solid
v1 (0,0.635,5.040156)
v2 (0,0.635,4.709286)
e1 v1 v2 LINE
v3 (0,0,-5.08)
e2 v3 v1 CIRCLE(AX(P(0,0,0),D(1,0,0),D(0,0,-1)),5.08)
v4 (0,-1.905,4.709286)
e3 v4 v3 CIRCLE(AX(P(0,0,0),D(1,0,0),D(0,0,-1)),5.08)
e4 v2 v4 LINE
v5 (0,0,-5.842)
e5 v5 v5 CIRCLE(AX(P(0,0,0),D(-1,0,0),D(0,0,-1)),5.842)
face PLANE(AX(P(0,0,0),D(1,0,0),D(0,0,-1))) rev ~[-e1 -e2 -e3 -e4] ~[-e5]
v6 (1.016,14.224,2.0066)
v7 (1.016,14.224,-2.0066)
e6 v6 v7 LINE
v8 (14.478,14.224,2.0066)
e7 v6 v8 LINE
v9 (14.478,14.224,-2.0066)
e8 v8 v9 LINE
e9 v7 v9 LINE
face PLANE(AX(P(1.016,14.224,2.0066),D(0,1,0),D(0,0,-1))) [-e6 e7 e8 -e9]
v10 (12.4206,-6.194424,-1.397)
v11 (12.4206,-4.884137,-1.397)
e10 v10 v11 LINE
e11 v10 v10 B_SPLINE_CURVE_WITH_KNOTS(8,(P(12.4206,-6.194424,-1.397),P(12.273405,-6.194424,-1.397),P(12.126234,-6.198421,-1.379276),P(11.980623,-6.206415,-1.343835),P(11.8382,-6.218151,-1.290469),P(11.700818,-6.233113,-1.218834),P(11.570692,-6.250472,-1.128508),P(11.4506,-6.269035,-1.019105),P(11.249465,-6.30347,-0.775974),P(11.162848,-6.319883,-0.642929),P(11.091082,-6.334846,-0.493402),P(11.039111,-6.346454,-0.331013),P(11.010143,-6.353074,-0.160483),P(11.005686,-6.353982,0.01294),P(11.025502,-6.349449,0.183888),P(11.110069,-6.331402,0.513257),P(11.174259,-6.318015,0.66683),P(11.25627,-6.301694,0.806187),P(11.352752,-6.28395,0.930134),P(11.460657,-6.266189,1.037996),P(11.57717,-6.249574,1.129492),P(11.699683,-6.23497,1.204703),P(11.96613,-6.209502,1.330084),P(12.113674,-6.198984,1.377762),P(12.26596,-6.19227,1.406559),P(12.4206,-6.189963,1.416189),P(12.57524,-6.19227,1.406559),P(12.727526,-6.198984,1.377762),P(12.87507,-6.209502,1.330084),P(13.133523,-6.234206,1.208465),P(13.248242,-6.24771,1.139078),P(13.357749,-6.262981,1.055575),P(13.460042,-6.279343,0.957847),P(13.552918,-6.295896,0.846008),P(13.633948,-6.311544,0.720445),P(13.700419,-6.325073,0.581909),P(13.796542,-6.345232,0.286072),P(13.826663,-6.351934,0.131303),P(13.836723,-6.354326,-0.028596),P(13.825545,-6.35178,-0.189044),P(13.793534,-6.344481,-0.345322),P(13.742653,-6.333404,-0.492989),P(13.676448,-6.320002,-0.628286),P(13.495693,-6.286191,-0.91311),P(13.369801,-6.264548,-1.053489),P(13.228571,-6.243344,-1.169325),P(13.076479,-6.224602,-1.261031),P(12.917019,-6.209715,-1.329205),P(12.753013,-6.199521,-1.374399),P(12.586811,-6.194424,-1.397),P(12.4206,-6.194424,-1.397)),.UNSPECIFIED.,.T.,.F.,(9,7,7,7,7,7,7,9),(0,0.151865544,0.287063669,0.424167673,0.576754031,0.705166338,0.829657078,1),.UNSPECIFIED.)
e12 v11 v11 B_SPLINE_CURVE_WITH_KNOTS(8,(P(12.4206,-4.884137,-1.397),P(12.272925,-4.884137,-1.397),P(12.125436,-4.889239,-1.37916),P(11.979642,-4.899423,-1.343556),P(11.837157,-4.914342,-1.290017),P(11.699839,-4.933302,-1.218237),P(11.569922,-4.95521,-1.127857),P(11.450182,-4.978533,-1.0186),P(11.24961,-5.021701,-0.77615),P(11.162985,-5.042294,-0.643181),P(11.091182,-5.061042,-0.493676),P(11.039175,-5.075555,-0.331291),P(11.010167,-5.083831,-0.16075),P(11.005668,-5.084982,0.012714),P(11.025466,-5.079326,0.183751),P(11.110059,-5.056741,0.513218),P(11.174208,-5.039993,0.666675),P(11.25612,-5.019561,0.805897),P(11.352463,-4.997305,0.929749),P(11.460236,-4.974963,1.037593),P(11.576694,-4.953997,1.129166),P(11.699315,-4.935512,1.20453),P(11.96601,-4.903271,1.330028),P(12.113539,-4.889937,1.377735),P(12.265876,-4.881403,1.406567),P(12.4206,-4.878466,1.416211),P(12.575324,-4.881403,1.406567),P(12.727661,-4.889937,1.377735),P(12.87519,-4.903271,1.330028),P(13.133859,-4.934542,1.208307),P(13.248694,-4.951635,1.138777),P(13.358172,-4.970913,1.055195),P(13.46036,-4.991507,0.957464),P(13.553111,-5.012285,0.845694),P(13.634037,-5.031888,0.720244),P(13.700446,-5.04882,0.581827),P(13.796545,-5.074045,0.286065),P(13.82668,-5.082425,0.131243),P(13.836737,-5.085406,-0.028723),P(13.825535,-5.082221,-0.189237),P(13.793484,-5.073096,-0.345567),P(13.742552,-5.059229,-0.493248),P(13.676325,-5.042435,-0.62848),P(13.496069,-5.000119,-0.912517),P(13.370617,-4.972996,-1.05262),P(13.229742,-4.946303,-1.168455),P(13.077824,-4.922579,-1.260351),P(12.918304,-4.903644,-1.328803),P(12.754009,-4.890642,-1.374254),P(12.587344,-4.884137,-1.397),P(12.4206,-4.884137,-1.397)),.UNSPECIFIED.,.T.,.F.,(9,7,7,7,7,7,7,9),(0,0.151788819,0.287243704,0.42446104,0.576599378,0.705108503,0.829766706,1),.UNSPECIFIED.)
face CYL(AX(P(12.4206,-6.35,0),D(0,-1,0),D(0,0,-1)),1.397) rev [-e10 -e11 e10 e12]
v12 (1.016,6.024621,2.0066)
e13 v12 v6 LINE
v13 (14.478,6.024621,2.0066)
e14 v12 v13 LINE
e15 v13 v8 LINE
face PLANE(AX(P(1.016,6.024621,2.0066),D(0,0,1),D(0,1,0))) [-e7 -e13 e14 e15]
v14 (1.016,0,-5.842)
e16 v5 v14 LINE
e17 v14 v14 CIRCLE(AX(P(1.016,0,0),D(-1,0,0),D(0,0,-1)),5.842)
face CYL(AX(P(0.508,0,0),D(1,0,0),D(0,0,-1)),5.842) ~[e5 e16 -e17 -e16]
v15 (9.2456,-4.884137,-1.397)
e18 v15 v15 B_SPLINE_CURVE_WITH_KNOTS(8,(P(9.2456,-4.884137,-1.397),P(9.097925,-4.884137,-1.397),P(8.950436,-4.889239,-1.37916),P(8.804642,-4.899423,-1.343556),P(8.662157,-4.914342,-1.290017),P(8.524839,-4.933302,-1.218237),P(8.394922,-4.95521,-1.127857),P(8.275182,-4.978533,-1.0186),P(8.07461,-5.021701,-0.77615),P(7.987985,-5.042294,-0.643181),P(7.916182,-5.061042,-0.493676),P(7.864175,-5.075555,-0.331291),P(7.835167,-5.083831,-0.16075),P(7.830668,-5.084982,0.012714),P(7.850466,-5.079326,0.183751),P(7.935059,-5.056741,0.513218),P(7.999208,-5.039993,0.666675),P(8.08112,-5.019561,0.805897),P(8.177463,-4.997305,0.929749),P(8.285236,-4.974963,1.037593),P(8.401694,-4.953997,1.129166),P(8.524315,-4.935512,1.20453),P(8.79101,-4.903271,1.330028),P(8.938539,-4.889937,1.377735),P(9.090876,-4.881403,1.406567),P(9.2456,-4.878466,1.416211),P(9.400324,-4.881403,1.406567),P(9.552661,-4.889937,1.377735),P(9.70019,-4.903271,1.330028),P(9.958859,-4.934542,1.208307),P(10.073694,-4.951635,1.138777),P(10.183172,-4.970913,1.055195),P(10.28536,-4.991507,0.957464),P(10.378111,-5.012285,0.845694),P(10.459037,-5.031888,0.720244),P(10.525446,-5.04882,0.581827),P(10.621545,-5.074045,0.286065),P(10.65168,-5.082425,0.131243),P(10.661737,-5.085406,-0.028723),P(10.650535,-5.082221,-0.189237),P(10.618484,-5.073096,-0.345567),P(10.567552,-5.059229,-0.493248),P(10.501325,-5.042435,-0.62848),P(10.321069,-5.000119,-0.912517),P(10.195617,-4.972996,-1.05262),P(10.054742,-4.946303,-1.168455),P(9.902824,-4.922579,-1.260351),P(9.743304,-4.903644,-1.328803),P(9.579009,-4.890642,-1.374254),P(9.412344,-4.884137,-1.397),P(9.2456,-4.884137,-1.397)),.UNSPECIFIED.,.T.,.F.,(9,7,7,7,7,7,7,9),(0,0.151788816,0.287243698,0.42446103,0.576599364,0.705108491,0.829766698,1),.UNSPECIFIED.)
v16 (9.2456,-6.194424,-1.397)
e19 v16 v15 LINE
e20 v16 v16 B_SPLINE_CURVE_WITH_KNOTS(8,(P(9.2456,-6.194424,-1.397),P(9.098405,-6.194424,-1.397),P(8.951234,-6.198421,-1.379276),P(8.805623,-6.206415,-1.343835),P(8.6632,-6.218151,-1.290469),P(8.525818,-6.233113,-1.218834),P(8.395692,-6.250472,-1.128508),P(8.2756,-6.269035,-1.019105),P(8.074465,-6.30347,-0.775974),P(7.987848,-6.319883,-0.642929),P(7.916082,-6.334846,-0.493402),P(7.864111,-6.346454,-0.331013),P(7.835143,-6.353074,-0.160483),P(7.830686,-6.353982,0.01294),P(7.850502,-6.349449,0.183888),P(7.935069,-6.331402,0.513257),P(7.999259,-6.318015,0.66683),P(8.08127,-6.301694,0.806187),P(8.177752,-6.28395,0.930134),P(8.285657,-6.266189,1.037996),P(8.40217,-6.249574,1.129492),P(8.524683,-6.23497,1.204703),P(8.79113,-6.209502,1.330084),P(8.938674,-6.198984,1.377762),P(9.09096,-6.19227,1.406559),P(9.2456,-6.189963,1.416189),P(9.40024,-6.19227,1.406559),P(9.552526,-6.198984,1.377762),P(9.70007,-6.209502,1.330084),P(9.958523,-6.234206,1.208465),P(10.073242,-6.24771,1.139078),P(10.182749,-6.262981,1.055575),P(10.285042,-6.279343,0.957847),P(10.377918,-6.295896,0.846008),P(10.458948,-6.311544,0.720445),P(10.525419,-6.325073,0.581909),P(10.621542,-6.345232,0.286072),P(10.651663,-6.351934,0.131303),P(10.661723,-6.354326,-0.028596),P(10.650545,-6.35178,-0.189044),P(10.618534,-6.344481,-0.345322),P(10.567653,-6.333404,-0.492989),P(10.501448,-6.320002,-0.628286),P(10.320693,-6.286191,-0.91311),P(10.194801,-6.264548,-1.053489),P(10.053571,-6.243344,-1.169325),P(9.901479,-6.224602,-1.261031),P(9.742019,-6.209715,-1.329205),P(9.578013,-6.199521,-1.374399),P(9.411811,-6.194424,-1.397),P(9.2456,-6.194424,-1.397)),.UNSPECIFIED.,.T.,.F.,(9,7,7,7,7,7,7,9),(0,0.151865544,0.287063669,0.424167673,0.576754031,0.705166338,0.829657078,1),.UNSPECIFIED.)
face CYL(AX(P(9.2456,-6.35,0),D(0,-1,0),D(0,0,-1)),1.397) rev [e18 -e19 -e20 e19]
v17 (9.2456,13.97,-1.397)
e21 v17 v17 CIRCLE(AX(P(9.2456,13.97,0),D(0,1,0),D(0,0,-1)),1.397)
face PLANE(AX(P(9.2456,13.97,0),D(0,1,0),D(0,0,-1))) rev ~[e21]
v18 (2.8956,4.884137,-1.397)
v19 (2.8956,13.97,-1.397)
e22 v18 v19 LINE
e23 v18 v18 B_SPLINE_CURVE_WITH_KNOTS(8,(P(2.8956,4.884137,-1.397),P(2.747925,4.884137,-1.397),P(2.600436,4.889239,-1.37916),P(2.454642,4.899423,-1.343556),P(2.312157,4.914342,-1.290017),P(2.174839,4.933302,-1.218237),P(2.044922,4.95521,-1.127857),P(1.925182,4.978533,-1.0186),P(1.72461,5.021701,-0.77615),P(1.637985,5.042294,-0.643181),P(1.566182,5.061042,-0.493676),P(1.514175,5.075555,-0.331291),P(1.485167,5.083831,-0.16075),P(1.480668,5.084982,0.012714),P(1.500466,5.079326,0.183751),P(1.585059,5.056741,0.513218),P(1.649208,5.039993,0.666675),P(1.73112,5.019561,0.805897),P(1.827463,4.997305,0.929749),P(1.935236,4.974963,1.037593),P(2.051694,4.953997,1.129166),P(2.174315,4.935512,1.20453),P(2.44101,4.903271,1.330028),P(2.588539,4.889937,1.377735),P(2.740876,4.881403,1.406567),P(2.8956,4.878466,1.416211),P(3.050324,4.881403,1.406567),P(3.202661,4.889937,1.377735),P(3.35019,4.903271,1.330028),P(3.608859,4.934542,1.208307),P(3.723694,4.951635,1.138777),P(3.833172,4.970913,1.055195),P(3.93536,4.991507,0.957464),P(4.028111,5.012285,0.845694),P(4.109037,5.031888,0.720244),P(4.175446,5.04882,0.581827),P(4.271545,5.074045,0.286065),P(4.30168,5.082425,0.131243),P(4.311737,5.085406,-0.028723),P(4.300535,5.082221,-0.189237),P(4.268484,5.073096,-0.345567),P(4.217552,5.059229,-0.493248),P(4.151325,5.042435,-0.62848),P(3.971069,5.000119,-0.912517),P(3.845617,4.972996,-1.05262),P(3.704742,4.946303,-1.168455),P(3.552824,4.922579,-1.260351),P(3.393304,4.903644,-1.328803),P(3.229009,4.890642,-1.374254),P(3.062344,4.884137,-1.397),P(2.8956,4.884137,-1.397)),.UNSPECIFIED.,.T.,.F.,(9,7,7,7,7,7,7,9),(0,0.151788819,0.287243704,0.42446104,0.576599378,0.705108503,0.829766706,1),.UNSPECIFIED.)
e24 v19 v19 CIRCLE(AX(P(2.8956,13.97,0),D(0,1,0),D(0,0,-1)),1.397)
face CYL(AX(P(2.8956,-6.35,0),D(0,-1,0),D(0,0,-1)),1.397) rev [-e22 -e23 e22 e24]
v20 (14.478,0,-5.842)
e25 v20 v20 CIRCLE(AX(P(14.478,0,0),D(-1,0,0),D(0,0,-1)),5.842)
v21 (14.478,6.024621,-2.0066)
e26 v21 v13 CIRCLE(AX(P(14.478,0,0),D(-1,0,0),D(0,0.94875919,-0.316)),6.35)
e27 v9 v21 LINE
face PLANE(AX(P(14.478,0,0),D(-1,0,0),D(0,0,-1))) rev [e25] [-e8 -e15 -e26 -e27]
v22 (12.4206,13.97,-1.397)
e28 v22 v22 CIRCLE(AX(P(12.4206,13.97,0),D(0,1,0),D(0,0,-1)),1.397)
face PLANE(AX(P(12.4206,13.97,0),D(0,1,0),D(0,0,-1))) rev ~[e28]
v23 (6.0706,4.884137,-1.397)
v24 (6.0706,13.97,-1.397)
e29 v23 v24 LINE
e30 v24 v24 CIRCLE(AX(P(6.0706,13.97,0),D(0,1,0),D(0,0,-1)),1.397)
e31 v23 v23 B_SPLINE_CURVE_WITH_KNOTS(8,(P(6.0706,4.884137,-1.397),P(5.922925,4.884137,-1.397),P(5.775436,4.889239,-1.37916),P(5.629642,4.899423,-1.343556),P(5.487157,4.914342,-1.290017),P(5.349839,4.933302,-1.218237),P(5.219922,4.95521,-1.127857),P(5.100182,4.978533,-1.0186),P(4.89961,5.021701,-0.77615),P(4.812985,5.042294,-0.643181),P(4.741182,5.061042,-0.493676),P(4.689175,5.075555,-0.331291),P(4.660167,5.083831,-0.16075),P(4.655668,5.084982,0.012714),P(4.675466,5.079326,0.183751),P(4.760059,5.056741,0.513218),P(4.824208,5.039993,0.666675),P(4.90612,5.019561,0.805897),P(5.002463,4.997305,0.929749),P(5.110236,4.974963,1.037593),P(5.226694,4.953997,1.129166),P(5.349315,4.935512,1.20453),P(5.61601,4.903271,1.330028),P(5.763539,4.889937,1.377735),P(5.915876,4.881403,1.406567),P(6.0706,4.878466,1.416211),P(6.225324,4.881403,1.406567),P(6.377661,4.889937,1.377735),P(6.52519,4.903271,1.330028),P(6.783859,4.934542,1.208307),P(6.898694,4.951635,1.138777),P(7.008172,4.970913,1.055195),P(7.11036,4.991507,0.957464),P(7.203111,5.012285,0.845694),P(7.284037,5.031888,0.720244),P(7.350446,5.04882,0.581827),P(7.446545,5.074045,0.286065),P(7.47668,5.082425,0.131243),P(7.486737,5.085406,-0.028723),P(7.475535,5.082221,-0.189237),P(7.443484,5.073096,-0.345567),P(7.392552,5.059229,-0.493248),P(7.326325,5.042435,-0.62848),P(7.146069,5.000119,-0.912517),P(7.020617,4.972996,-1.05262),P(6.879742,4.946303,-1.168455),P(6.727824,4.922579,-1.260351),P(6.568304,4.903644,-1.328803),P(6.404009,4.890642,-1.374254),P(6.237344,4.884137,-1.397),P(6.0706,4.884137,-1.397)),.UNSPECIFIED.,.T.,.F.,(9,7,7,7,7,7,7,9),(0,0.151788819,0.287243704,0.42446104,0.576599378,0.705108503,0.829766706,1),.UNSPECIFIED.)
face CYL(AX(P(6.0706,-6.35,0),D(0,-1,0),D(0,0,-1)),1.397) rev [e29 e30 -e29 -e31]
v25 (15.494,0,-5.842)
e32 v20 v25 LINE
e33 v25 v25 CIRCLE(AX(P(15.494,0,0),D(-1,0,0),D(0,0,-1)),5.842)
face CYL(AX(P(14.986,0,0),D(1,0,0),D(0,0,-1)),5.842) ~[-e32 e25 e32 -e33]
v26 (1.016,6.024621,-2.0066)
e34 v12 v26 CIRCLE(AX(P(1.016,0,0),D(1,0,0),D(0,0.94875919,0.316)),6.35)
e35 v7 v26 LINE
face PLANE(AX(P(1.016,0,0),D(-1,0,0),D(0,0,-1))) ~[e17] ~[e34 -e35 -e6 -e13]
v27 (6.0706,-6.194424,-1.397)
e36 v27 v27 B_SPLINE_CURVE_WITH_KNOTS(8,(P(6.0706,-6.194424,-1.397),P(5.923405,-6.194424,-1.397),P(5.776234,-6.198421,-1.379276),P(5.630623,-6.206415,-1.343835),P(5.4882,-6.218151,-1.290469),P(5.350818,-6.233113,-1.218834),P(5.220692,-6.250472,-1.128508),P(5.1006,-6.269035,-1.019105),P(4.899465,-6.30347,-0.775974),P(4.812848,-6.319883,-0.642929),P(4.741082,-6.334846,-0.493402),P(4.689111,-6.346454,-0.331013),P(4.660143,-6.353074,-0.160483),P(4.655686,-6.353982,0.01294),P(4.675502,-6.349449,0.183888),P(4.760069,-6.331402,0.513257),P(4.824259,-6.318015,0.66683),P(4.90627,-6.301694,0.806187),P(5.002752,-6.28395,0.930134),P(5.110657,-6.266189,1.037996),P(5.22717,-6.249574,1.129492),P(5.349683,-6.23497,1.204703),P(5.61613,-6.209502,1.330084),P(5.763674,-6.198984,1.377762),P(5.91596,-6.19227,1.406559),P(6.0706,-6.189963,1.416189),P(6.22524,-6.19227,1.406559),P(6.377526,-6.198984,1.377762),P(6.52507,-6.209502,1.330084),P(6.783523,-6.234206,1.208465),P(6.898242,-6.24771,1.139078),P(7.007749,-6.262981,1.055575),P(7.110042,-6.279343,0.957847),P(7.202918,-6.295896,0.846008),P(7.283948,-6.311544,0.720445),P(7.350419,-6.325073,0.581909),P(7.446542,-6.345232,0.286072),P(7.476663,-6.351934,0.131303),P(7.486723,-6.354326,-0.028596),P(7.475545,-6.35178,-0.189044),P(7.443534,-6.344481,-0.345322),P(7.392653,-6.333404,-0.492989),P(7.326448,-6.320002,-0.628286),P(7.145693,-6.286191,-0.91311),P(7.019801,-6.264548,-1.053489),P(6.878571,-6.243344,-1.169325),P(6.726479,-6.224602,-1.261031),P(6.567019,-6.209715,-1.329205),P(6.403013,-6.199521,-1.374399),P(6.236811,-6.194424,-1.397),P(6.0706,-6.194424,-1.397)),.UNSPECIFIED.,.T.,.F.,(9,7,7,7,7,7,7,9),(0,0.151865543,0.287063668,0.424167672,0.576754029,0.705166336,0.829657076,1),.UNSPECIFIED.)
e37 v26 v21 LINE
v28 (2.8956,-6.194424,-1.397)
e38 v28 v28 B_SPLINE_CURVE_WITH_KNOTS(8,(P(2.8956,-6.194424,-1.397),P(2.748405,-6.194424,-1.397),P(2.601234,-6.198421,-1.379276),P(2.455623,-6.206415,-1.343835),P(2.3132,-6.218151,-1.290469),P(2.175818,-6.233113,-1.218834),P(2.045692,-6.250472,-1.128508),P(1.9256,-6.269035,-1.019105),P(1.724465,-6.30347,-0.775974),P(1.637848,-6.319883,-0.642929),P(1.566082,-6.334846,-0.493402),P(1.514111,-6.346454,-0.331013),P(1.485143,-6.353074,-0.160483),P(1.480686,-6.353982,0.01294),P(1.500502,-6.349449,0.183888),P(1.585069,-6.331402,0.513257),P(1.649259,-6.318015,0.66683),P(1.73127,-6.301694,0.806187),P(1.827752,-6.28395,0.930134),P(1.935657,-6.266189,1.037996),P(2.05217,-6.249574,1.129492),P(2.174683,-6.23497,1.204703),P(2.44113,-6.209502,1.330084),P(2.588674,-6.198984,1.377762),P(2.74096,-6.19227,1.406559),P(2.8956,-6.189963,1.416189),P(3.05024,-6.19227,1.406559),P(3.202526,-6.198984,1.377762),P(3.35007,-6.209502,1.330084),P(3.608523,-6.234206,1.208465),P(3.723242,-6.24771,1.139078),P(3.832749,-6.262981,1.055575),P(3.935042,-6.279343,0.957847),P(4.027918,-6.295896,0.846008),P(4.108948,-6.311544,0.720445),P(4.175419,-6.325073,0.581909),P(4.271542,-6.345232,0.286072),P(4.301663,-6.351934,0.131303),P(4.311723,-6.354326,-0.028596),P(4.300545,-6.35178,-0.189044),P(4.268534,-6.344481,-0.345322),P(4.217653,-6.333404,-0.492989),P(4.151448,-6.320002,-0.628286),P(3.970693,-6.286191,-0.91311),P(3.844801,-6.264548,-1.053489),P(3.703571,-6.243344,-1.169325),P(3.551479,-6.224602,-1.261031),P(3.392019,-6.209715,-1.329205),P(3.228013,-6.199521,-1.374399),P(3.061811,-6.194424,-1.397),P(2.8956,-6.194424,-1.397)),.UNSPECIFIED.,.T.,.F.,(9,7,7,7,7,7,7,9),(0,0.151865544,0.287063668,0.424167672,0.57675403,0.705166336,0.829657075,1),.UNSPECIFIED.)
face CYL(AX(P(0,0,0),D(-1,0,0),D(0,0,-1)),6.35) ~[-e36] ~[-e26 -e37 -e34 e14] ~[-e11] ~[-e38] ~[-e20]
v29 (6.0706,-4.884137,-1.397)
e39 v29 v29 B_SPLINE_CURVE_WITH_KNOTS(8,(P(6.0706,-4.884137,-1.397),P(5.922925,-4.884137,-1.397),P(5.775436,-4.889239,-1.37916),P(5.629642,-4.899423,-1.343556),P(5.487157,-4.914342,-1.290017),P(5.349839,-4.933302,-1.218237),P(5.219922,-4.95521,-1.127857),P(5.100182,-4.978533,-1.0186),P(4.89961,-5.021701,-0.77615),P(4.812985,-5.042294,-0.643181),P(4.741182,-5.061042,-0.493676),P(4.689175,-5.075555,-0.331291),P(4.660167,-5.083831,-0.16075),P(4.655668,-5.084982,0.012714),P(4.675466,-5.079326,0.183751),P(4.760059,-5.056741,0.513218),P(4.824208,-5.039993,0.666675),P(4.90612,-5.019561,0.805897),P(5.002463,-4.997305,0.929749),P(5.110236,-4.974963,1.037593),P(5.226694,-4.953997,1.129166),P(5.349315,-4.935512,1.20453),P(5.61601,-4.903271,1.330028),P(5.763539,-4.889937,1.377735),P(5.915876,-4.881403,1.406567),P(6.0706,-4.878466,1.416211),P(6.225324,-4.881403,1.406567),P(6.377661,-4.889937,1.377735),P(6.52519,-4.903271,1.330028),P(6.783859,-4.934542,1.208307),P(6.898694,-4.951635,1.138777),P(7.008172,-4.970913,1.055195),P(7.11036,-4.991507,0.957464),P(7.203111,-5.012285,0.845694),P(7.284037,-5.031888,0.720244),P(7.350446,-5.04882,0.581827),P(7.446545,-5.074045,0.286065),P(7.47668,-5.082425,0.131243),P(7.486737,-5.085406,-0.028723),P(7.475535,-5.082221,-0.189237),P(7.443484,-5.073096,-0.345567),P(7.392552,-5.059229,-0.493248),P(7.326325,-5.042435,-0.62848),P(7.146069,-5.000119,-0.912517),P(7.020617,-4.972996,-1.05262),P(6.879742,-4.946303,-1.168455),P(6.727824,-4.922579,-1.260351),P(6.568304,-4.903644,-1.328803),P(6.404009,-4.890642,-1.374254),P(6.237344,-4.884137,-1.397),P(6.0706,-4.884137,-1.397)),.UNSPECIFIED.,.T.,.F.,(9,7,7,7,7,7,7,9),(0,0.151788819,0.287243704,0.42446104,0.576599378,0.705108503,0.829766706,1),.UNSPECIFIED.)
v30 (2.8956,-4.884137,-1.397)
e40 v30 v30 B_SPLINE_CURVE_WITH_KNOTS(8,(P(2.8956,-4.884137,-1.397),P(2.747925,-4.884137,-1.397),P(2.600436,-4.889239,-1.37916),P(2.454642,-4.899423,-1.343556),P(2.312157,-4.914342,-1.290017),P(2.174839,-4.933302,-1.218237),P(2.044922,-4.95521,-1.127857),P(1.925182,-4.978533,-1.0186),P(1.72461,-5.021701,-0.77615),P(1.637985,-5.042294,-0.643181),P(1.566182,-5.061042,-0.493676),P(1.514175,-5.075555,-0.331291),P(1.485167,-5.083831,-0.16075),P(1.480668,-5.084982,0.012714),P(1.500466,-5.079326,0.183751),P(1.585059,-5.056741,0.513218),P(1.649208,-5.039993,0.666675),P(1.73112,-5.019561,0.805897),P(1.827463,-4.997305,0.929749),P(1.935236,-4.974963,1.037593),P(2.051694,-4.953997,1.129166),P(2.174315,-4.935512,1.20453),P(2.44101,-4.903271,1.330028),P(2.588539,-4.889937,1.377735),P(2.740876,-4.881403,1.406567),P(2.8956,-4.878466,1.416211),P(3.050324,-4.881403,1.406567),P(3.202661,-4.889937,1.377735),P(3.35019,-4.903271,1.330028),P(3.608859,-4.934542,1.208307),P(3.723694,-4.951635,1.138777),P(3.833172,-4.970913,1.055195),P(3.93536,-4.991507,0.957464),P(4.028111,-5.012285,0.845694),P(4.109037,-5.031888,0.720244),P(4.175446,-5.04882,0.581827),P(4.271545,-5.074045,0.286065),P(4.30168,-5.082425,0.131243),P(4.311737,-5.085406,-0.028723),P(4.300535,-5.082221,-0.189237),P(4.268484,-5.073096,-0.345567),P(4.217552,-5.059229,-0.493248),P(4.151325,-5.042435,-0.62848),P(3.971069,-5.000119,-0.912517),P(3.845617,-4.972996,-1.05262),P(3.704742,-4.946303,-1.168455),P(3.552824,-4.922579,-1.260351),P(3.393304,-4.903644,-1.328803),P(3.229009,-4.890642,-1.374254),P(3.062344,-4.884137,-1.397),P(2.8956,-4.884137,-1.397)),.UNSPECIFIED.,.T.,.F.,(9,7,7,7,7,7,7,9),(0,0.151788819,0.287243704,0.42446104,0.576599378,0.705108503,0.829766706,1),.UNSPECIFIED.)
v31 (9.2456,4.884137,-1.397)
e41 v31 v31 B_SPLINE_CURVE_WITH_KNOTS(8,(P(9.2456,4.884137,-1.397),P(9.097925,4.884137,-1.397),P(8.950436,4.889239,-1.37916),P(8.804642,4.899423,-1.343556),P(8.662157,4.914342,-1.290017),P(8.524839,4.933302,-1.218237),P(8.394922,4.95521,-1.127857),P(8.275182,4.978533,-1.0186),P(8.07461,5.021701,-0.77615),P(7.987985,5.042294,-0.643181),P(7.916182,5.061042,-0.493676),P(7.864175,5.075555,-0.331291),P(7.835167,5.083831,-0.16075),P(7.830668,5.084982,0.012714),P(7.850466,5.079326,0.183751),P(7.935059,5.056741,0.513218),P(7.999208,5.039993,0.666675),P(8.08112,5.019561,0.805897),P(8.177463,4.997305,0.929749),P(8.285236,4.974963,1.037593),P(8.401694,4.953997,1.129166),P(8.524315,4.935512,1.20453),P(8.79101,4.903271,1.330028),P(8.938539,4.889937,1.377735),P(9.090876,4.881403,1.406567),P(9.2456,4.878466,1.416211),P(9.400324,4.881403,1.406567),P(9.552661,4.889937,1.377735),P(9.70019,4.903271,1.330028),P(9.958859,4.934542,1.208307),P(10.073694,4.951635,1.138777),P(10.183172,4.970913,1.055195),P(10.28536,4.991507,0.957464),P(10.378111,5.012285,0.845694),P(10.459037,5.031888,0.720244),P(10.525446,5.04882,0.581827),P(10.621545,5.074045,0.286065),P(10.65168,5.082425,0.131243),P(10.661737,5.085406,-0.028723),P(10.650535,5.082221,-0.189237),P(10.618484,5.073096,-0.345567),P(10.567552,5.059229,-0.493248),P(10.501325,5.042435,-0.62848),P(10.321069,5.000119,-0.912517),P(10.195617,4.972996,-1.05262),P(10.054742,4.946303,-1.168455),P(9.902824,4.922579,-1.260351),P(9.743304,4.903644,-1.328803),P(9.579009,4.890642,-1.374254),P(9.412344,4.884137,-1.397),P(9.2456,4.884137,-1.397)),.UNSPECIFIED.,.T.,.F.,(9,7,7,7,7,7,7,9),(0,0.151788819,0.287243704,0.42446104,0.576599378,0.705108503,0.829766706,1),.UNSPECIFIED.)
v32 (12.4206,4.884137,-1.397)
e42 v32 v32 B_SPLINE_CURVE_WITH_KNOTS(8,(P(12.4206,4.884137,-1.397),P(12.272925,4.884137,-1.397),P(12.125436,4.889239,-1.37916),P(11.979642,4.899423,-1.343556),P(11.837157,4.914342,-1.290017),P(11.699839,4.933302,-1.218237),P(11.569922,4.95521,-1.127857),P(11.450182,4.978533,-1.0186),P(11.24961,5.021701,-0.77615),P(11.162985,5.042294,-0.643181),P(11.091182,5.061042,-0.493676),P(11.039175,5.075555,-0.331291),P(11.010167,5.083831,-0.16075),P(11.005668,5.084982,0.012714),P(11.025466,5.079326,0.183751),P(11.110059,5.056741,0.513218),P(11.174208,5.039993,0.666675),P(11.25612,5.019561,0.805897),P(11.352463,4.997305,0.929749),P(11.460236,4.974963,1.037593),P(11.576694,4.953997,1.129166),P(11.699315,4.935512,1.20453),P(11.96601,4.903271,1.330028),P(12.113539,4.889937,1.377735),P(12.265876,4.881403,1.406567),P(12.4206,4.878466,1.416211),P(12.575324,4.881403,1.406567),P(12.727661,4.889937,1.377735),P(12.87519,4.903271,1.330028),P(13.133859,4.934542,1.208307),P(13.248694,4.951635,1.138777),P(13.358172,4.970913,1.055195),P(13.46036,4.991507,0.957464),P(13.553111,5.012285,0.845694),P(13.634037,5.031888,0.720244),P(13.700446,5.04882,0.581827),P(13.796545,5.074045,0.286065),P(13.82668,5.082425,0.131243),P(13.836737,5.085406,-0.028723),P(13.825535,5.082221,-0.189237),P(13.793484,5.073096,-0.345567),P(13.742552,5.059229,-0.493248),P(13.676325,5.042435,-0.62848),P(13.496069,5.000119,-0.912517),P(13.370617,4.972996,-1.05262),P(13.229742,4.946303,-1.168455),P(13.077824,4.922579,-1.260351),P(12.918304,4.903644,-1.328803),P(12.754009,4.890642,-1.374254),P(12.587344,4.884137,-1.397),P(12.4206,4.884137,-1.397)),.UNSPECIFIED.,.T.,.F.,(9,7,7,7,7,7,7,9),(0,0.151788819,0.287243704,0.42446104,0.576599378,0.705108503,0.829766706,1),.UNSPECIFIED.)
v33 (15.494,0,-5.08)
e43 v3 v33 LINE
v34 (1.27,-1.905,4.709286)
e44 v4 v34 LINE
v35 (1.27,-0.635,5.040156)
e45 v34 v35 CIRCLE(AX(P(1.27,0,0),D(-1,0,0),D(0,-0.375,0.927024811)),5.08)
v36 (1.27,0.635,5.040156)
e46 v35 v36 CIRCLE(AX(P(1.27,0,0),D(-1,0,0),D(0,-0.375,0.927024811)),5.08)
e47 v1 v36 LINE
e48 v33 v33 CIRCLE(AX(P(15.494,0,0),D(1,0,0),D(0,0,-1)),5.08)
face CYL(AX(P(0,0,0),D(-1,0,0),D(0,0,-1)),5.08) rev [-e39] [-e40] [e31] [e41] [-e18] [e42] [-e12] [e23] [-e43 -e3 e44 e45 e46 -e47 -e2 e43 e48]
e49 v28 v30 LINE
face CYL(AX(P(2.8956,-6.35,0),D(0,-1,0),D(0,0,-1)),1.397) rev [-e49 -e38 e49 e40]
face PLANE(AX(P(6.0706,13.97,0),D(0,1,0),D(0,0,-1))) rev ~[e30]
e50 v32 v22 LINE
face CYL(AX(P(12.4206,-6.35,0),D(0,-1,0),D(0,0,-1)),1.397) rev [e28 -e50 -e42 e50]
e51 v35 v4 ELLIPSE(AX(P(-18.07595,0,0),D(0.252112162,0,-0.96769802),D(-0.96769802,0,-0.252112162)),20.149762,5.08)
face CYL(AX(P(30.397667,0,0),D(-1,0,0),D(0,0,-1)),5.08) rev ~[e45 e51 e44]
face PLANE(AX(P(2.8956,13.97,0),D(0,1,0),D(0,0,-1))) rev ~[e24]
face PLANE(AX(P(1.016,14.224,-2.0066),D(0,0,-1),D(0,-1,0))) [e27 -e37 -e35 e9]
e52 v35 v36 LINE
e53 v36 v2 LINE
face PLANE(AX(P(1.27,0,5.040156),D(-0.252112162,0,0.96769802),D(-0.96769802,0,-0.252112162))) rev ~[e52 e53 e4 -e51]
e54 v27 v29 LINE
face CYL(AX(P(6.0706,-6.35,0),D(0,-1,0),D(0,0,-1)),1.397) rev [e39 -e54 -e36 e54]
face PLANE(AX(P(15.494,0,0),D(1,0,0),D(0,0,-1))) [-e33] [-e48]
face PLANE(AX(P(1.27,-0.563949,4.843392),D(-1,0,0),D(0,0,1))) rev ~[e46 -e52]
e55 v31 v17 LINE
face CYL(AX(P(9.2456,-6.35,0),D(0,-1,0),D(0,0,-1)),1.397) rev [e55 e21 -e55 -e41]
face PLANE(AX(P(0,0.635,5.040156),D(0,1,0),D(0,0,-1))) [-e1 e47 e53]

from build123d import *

# Parameters (mm, degrees)
SKETCH1_R                      = 6.35
SKETCH1_R_2                    = 5.08
BOSS_EXTRUDE1_DEPTH            = 15.494
BOSS_EXTRUDE2_DEPTH            = 13.462
SKETCH3_W                      = 1.016
SKETCH3_H                      = 0.508
BOSS_EXTRUDE3_DEPTH            = 1.27
SKETCH7_R                      = 1.397
CUT_EXTRUDE1_DEPTH             = 20.32
CUT_EXTRUDE4_REACH             = 23.971
CUT_EXTRUDE4_END_RADIUS        = 5.08
CUT_EXTRUDE4_DIRECTION_2_DEPTH = 0.635


with BuildPart() as part:
    # Sketch1 → Boss-Extrude1 (new body)
    with BuildSketch(Plane(origin=(0, 0, 0), x_dir=(0, 0, -1), z_dir=(1, 0, 0))):
        Circle(SKETCH1_R)
        Circle(SKETCH1_R_2, mode=Mode.SUBTRACT)
    extrude(amount=BOSS_EXTRUDE1_DEPTH)

    # Sketch2 → Boss-Extrude2 (add)
    with BuildSketch(Plane(origin=(1.016, 0, 0), x_dir=(0, 0, -1), z_dir=(1, 0, 0))):
        with BuildLine():
            Line((-2.0066, 6.024620854), (-2.0066, 14.224))
            Line((-2.0066, 14.224), (2.0066, 14.224))
            Line((2.0066, 14.224), (2.0066, 6.024620854))
            ThreePointArc((2.0066, 6.024620854), (0, 6.35), (-2.0066, 6.024620854))
        make_face()
    extrude(amount=BOSS_EXTRUDE2_DEPTH)

    # Sketch3 → Cut-Revolve1 (revolve, cut)
    with BuildSketch(Plane.XY, mode=Mode.PRIVATE) as cut_revolve1_sk:
        with Locations((14.986, 6.096)):
            Rectangle(SKETCH3_W, SKETCH3_H)
        with Locations((0.508, 6.096)):
            Rectangle(SKETCH3_W, SKETCH3_H)
    revolve(cut_revolve1_sk.sketch.rotate(Axis((15.494, 0, 0), (-1, 0, 0)), 90), axis=Axis((15.494, 0, 0), (-1, 0, 0)), mode=Mode.SUBTRACT)

    # Sketch5 → Boss-Extrude3 (add)
    with BuildSketch(Plane.ZY):
        with BuildLine():
            Line((4.709286039, 0.635), (4.709286039, -1.905))
            ThreePointArc((4.709286039, -1.905), (5.037440444, -0.656196444), (5.040156248, 0.635))
            Line((5.040156248, 0.635), (4.709286039, 0.635))
        make_face()
    extrude(amount=-BOSS_EXTRUDE3_DEPTH)

    # Sketch7 → Cut-Extrude1 (cut)
    with BuildSketch(Plane(origin=(0, -6.35, 0), x_dir=(1, 0, 0), z_dir=(0, 1, 0))):
        with Locations(Location((12.4206, 0, 0), (0, 0, 90))):
            Circle(SKETCH7_R)
        with Locations(Location((2.8956, 0, 0), (0, 0, 90))):
            Circle(SKETCH7_R)
        with Locations(Location((6.0706, 0, 0), (0, 0, 90))):
            Circle(SKETCH7_R)
        with Locations(Location((9.2456, 0, 0), (0, 0, 90))):
            Circle(SKETCH7_R)
    extrude(amount=CUT_EXTRUDE1_DEPTH, mode=Mode.SUBTRACT)

    # Cut-Extrude4: up to this cylinder (the profile starts inside it)
    cut_extrude4_end = Plane(origin=(0.846667, 0, 0), z_dir=(-1, 0, 0)) * Cylinder(CUT_EXTRUDE4_END_RADIUS, 59.102, mode=Mode.PRIVATE)
    # Sketch11 → Cut-Extrude4 (cut, up to the surface)
    with BuildSketch(Plane(origin=(0, 0, 0), x_dir=(1, 0, 0), z_dir=(0, 1, 0)), mode=Mode.PRIVATE) as cut_extrude4_sk1:
        Polygon((1.27, -4.709286039), (1.27, -5.040156248), (0, -4.709286039), align=None)
    cut_extrude4_tool1 = extrude(cut_extrude4_sk1.sketch, amount=-CUT_EXTRUDE4_REACH, mode=Mode.PRIVATE) & cut_extrude4_end
    add(cut_extrude4_tool1.solids().sort_by_distance((0.846667, 0, 4.819576))[0], mode=Mode.SUBTRACT)

    # Sketch11 → Cut-Extrude4 direction 2 (cut)
    with BuildSketch(Plane(origin=(0, 0, 0), x_dir=(1, 0, 0), z_dir=(0, 1, 0))):
        Polygon((1.27, -4.709286039), (1.27, -5.040156248), (0, -4.709286039), align=None)
    extrude(amount=CUT_EXTRUDE4_DIRECTION_2_DEPTH, mode=Mode.SUBTRACT)


solid = part.part
